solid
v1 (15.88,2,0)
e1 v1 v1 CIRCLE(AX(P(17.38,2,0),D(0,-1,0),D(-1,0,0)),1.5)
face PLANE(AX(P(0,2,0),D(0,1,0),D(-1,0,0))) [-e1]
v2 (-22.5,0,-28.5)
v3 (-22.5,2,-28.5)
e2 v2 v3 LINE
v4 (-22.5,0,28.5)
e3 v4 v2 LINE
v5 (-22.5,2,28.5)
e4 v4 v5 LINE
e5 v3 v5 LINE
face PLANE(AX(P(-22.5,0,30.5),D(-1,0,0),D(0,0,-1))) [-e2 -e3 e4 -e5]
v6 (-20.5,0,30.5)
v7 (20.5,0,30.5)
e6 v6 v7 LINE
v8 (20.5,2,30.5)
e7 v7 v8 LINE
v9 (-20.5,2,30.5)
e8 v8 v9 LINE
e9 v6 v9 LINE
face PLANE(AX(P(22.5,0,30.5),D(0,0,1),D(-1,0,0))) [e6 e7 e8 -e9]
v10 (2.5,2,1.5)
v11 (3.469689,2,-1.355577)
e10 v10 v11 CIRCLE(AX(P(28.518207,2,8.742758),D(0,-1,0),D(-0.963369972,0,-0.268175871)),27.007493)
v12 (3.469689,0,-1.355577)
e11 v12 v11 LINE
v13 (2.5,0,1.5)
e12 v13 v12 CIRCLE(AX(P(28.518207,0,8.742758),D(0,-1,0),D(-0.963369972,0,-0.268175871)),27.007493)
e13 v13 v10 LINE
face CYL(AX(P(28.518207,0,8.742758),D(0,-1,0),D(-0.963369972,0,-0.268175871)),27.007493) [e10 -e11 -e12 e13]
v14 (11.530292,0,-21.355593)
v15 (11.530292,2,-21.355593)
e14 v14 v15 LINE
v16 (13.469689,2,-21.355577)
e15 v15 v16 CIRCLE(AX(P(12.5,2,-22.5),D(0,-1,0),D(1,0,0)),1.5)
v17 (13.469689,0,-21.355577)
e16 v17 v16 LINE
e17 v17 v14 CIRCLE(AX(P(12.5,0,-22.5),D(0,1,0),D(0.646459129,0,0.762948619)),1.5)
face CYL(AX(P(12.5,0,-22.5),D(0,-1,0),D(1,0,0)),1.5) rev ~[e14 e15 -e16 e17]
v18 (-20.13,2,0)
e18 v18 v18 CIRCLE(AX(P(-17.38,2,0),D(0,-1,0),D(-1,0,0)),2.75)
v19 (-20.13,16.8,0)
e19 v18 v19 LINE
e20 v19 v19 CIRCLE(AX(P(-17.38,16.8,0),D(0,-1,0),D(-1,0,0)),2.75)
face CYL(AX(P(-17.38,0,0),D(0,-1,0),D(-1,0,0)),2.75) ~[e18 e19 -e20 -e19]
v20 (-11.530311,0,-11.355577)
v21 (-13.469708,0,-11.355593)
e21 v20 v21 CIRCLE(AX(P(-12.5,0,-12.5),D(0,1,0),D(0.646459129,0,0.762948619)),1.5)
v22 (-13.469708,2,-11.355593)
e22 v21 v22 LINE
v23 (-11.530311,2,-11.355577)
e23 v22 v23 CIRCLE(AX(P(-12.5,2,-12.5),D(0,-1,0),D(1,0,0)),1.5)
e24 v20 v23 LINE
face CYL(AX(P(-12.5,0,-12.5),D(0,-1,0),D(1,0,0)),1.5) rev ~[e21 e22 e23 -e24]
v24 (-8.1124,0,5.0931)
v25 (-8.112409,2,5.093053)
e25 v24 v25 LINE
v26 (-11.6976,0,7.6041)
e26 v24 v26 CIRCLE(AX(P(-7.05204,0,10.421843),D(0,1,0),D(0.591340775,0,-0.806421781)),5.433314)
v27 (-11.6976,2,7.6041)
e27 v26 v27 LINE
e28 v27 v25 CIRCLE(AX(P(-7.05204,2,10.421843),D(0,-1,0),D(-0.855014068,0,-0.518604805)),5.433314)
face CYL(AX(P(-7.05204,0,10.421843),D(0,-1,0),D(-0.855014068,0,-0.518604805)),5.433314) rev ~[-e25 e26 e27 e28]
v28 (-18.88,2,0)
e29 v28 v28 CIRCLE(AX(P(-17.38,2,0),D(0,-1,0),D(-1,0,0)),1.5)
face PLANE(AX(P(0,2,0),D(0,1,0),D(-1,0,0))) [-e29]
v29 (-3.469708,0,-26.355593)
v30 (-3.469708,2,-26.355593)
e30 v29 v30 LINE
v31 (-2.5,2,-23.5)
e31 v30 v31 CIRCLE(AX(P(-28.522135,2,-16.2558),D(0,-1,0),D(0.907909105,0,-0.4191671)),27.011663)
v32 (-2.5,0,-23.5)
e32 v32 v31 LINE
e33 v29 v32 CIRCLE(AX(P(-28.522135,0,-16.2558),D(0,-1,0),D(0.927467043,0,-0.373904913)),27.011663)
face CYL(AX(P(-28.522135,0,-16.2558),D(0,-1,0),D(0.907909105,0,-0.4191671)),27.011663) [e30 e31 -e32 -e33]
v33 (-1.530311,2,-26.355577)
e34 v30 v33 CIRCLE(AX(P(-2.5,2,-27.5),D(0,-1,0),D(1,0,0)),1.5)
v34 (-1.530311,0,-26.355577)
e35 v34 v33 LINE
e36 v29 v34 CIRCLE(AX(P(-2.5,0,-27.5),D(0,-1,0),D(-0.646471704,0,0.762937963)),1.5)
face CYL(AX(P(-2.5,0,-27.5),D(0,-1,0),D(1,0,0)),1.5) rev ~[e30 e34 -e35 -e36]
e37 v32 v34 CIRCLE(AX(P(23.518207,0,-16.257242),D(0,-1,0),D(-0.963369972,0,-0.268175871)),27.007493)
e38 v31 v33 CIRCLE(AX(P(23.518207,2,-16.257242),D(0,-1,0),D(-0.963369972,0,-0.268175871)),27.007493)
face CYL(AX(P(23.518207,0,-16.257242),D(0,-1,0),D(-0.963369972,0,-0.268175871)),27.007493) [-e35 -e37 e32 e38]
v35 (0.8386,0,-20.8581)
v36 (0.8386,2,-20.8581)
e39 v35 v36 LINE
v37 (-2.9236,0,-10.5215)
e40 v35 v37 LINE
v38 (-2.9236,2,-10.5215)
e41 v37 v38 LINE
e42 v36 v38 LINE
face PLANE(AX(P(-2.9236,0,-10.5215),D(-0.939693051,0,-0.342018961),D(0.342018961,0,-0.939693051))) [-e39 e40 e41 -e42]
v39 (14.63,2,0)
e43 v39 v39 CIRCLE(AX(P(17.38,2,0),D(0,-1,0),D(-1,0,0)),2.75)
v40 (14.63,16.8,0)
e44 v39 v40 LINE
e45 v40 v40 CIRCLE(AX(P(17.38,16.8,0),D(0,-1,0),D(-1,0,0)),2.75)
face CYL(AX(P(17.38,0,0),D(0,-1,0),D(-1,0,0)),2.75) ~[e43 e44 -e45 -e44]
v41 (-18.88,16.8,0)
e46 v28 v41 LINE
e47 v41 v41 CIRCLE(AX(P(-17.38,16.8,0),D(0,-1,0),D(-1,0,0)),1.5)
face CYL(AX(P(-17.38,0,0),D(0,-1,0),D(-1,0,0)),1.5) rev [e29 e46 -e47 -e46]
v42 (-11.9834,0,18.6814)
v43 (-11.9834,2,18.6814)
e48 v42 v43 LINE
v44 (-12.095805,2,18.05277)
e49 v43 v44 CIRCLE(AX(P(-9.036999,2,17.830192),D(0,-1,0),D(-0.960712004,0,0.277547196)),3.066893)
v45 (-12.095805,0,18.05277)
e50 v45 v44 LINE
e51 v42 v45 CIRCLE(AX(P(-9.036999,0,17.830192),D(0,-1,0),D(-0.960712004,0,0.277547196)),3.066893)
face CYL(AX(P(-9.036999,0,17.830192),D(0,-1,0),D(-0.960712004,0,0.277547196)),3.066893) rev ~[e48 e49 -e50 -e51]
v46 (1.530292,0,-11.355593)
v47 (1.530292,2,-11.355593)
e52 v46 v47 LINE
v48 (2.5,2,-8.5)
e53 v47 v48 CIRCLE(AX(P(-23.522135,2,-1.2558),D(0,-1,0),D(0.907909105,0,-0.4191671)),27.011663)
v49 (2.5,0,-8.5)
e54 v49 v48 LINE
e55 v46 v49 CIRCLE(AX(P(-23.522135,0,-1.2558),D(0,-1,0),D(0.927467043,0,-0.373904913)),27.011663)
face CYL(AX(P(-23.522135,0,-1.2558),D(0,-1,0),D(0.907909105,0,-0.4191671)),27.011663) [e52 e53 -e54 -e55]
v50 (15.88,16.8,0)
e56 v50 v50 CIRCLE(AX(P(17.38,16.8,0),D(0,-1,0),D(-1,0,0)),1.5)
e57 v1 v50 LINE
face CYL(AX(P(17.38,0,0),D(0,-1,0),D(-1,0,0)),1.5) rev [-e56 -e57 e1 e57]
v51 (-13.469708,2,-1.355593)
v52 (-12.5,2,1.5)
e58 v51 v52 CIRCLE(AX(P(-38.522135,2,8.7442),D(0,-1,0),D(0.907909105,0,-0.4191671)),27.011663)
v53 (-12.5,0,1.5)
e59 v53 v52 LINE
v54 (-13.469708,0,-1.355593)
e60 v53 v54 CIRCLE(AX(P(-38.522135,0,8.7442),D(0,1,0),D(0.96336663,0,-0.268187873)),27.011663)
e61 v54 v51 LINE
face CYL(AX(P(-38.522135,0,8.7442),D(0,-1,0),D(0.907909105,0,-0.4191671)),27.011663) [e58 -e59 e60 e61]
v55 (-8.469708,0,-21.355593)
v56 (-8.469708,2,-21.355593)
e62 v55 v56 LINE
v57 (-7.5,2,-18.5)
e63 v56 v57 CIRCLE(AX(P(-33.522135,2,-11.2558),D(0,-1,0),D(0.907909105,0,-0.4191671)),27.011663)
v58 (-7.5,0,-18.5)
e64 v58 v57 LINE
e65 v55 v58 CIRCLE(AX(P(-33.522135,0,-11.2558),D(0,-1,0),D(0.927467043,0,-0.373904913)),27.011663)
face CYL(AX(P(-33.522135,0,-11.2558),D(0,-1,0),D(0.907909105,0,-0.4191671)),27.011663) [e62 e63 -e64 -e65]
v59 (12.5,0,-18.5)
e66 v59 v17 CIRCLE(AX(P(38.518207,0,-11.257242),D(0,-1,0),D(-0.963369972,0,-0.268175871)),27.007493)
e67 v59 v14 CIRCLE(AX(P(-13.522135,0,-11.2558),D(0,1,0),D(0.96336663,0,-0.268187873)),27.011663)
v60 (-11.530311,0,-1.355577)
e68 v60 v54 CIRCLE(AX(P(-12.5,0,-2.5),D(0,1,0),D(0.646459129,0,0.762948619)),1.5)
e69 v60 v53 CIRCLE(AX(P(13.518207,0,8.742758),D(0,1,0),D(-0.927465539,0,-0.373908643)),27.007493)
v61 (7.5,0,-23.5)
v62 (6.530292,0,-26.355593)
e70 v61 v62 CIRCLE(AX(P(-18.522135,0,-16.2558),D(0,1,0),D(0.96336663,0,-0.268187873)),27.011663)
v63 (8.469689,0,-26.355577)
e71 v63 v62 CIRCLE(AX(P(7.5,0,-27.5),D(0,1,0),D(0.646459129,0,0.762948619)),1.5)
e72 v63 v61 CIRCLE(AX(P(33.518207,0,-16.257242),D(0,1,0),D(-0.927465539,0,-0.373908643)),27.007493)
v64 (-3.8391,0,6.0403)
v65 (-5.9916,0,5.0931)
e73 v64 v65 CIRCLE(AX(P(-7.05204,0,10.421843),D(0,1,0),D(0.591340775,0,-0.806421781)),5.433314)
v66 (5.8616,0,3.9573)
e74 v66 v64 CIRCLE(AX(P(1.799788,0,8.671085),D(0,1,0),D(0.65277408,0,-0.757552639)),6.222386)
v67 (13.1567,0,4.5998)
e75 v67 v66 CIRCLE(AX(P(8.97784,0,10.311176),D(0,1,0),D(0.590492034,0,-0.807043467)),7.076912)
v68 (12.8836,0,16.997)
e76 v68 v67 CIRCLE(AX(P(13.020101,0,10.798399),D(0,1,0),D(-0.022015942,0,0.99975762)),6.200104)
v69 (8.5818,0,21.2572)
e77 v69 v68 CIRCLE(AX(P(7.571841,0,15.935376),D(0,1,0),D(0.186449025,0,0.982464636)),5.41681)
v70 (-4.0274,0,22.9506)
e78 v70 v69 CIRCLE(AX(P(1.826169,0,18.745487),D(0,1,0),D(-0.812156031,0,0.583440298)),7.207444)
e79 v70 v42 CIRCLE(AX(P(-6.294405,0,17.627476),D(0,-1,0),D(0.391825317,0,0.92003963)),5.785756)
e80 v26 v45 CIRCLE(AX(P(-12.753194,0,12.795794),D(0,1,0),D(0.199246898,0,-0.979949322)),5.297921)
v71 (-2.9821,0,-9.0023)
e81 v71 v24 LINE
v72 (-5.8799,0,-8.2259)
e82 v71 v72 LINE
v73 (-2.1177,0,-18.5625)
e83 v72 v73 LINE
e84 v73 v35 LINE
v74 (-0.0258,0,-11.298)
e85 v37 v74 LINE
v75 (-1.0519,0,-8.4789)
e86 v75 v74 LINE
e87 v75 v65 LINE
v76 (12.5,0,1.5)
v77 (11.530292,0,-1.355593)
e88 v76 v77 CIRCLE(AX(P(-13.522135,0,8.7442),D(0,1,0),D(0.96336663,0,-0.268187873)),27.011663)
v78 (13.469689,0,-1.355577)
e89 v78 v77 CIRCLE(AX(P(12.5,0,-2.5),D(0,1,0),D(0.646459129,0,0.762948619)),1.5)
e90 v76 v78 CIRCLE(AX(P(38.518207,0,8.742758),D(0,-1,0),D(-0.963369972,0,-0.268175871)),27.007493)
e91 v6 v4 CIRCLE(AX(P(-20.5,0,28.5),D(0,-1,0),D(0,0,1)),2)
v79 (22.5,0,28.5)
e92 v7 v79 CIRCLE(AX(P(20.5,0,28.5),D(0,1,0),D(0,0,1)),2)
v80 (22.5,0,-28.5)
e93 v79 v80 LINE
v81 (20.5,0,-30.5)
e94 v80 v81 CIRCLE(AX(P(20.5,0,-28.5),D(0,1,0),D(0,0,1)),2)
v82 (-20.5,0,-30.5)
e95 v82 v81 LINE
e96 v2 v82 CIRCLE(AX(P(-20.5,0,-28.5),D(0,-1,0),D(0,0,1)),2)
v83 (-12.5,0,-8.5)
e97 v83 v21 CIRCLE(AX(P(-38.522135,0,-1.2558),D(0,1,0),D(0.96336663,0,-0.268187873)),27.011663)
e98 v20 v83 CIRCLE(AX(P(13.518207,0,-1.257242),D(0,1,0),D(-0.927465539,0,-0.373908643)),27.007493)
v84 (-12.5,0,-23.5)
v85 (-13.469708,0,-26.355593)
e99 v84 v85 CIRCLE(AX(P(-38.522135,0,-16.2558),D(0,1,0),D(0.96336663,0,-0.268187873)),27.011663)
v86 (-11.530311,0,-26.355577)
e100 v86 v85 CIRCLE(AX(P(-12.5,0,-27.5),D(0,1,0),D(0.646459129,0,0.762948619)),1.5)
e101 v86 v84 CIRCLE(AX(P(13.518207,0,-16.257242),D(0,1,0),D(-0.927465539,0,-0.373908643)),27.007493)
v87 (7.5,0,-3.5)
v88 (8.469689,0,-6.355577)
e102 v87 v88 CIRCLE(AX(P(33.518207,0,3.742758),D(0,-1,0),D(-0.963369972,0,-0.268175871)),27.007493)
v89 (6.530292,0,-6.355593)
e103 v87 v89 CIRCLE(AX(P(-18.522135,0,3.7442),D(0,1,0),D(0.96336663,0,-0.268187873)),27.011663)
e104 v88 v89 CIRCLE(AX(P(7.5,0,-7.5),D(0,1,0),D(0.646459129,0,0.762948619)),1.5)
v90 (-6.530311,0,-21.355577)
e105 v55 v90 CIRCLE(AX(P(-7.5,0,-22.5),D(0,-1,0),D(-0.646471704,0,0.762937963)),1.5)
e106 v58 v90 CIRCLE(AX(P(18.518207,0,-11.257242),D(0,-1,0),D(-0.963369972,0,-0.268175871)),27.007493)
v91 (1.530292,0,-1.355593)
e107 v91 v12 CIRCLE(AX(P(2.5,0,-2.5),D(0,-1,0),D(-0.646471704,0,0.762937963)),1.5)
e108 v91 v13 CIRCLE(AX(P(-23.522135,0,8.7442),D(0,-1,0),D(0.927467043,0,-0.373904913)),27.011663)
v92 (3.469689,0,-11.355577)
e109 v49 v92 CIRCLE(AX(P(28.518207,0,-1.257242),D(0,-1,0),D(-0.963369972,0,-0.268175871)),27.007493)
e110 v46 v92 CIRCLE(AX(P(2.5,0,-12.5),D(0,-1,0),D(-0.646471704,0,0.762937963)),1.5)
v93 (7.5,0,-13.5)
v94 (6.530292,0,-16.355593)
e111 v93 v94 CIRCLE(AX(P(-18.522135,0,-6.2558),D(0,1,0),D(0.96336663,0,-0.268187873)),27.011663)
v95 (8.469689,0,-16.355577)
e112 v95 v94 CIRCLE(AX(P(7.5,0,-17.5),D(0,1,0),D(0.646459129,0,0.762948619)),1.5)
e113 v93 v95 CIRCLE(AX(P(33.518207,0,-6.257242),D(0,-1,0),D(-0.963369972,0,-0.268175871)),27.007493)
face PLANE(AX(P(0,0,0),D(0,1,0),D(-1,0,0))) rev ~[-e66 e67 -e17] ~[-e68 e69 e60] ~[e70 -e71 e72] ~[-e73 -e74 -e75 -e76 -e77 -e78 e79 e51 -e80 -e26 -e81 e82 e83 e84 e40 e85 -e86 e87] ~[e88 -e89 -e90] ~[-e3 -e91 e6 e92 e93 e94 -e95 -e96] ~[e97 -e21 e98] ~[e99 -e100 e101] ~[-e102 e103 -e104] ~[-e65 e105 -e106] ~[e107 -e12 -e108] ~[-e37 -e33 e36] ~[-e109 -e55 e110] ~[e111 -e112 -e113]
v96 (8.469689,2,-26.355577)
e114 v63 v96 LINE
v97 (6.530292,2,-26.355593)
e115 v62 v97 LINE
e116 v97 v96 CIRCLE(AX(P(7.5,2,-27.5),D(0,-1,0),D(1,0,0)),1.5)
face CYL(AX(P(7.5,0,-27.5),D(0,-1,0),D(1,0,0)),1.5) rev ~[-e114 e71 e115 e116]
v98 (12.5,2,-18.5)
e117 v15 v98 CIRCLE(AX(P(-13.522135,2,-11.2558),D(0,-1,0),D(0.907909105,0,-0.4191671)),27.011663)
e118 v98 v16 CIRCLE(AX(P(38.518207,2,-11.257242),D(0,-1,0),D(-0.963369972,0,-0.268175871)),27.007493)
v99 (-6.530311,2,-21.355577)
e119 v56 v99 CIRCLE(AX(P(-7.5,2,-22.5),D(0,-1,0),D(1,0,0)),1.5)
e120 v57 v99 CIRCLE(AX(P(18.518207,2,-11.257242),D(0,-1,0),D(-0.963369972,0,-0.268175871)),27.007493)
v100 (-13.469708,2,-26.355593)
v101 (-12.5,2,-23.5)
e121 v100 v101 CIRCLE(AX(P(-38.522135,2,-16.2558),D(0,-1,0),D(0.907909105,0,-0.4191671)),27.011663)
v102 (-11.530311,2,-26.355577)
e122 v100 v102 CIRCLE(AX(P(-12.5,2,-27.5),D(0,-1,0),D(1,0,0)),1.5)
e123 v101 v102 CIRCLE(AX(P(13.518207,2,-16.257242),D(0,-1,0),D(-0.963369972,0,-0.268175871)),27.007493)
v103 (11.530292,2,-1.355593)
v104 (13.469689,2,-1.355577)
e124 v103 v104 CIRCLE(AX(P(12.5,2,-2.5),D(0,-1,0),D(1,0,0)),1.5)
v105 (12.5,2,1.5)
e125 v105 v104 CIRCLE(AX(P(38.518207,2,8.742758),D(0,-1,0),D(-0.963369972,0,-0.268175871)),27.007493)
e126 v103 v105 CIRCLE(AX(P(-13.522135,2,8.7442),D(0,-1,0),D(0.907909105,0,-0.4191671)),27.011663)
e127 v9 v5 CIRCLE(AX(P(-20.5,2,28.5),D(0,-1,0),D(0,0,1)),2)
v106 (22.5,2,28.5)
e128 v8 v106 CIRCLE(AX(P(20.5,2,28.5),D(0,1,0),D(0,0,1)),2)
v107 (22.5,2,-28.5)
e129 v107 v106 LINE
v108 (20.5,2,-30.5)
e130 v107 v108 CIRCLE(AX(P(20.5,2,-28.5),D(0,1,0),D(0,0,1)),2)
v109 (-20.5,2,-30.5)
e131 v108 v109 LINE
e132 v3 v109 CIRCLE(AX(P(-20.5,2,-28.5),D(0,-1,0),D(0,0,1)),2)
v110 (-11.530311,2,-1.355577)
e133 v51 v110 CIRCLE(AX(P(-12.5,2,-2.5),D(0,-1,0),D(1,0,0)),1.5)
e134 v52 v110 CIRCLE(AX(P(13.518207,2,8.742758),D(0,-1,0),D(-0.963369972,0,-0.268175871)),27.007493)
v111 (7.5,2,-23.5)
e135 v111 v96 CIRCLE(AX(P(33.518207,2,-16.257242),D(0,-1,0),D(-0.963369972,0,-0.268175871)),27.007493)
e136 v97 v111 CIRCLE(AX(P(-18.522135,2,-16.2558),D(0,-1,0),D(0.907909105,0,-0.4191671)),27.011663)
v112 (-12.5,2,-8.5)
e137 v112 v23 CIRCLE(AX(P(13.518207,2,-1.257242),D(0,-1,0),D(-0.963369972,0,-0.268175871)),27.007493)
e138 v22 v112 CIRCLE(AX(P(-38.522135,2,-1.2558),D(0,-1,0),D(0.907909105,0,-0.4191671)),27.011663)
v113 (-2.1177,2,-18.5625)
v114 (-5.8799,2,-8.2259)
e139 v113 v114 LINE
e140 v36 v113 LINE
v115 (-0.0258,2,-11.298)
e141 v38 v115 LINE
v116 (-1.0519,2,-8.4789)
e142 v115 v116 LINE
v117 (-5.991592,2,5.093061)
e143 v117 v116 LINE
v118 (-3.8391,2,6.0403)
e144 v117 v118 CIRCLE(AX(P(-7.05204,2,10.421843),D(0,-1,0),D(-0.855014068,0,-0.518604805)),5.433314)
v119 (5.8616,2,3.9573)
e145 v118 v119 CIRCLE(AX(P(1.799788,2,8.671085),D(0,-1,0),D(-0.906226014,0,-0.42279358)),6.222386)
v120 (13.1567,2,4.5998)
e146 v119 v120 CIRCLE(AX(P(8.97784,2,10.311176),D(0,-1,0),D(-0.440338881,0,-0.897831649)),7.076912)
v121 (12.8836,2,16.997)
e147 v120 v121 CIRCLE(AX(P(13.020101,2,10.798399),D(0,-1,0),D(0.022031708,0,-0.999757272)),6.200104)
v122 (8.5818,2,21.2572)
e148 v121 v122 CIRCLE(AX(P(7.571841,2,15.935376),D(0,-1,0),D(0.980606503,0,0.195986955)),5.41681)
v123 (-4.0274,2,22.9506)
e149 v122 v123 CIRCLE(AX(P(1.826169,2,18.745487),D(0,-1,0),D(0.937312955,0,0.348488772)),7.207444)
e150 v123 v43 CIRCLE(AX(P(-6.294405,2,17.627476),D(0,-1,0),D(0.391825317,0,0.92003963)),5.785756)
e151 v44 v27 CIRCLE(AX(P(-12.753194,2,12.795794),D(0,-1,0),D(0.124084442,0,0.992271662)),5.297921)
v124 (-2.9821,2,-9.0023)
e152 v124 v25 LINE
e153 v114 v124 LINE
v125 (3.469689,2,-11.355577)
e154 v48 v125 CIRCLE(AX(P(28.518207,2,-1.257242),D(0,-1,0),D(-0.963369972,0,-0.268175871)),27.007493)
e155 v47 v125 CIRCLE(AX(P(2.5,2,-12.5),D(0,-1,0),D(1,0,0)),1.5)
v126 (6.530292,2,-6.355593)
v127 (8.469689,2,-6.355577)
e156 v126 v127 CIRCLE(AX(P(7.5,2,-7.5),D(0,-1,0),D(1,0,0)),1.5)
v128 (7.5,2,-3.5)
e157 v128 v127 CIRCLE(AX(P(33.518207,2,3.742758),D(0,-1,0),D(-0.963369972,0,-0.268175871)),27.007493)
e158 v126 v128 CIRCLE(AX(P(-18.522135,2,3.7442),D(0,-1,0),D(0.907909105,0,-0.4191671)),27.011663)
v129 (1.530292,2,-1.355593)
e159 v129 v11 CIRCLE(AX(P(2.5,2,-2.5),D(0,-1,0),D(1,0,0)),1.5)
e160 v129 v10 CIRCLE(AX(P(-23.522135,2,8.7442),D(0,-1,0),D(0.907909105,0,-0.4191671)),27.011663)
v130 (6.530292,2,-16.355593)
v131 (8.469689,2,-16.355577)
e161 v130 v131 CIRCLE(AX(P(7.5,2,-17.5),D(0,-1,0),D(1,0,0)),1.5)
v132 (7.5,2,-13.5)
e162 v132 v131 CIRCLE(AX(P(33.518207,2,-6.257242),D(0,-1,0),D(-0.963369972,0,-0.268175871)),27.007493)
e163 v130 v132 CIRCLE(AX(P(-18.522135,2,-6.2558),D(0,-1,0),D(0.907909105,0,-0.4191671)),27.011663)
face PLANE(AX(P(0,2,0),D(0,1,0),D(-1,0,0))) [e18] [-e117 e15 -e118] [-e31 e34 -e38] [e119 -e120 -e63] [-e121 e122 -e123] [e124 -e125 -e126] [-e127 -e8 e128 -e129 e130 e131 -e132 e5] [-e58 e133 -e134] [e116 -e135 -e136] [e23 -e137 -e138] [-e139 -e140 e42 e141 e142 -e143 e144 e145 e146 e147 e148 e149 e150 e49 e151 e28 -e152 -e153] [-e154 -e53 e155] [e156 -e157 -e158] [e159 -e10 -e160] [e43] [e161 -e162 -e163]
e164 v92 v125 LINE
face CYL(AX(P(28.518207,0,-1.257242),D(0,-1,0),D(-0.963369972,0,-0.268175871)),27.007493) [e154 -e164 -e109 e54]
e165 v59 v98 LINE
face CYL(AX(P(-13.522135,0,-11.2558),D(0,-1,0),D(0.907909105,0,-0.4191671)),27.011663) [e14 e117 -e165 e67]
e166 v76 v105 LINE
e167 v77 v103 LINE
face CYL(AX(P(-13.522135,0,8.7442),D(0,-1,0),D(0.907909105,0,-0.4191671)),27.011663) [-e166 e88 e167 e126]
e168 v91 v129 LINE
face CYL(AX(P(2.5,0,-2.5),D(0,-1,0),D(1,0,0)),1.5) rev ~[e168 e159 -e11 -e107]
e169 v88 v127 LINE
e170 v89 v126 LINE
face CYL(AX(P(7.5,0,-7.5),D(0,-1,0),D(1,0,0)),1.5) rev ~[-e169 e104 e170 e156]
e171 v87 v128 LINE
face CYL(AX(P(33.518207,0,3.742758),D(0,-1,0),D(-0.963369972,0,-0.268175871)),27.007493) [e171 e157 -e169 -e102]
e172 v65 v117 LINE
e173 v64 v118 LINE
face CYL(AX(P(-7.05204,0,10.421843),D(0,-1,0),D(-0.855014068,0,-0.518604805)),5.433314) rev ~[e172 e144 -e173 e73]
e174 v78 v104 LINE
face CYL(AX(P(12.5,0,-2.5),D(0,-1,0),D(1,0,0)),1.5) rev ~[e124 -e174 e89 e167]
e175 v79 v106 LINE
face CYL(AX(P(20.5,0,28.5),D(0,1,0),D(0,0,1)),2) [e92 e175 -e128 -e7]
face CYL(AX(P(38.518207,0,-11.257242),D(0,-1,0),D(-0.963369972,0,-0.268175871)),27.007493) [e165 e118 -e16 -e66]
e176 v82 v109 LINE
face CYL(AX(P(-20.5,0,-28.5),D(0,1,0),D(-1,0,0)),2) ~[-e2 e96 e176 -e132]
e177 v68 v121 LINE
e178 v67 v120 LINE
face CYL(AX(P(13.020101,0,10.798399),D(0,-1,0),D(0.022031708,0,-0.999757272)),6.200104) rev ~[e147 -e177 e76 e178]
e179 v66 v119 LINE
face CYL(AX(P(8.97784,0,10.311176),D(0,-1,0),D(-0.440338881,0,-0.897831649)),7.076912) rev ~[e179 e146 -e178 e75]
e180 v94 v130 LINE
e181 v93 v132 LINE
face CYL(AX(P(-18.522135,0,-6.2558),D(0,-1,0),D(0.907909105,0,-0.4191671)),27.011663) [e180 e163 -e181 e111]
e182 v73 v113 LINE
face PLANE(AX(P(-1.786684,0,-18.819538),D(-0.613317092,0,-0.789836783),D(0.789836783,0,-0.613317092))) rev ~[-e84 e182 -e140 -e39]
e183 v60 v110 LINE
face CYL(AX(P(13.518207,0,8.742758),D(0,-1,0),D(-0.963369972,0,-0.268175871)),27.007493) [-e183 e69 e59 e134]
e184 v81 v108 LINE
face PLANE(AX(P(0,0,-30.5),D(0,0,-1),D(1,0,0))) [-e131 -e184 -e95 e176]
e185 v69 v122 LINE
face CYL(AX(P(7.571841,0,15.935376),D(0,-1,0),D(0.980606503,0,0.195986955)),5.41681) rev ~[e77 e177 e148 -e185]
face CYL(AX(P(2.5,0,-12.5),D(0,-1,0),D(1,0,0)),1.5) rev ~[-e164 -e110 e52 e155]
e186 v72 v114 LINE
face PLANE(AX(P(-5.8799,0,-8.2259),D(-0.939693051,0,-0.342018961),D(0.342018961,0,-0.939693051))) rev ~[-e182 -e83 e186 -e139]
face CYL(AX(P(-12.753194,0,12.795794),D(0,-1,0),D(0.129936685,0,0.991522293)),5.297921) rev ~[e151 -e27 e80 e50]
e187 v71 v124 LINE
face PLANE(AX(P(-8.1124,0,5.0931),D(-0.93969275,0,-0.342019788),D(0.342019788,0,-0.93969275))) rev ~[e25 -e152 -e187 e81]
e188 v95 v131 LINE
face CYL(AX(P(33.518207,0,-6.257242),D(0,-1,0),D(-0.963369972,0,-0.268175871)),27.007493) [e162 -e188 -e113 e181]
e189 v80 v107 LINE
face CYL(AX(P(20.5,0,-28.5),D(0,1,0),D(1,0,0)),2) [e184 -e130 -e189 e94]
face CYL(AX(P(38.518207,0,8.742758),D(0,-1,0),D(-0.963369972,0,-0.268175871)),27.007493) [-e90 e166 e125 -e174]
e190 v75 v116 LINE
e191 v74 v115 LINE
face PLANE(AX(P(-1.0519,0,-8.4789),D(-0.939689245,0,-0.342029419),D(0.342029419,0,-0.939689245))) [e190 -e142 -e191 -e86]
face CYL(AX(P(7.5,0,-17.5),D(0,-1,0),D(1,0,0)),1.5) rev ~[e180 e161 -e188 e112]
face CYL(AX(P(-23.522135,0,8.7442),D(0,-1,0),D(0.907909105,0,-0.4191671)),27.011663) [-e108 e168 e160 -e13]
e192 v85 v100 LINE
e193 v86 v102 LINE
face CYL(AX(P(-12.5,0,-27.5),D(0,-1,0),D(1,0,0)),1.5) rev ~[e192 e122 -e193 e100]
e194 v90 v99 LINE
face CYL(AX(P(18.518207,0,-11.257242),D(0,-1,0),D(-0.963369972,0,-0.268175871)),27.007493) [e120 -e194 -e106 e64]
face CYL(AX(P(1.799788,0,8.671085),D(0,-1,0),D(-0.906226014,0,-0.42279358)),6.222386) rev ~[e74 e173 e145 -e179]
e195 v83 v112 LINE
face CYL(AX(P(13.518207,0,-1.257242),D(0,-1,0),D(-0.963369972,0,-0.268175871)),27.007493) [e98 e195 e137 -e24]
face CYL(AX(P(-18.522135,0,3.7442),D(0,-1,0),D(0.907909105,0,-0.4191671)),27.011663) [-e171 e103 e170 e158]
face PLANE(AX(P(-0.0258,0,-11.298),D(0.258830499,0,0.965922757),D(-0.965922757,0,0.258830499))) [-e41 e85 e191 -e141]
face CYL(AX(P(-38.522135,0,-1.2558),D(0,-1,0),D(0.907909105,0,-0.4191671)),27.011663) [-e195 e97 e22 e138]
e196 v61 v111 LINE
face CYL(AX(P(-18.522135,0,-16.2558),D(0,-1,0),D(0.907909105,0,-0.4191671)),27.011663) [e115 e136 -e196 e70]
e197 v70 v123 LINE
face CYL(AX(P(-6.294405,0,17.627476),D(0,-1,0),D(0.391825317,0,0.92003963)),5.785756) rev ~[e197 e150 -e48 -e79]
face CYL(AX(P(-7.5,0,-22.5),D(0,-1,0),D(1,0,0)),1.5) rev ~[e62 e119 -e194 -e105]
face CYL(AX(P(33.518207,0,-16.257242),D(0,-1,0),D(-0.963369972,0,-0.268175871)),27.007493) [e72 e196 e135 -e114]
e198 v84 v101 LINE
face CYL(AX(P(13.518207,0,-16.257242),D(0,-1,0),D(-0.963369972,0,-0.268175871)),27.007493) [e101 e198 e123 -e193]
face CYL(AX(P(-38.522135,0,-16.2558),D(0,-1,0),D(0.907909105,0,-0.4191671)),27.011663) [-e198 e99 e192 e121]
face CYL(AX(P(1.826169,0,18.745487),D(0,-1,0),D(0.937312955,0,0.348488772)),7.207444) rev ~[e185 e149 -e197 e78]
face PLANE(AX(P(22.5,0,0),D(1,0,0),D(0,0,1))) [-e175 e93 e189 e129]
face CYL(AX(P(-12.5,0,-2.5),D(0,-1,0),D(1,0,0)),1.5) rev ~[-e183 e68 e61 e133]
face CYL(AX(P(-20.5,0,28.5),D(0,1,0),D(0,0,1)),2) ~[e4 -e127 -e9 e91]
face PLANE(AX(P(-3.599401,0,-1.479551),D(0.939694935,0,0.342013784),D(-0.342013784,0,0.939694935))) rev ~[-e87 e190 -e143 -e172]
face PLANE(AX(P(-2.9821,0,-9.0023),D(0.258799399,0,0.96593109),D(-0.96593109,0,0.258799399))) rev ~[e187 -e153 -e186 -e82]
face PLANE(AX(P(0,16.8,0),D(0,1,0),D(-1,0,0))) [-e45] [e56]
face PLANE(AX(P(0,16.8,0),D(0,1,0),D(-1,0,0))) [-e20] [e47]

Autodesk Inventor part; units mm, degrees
ref_plane "YZ Plane" through (0, 0, 0) normal (1, 0, 0) x (0, 1, 0)
ref_plane "XZ Plane" through (0, 0, 0) normal (0, 1, 0) x (-1, 0, 0)
ref_plane "XY Plane" through (0, 0, 0) normal (0, 0, 1) x (1, 0, 0)
sketch "Szkic1" plane through (0, 0, 0) normal (0, 1, 0) x (-1, 0, 0)
  line L0 (-22.5, 30.5) -> (22.5, 30.5)
  line L1 (22.5, 30.5) -> (22.5, -30.5)
  line L2 (22.5, -30.5) -> (-22.5, -30.5)
  line L3 (-22.5, -30.5) -> (-22.5, 30.5)
  line L4 (-22.5, 30.5) -> (22.5, -30.5) construction
  line L5 (22.5, 30.5) -> (16.6, 30.5)
  line L6 (0, -30.5) -> (0, 30.5)
  line L7 (22.5, 0) -> (-22.5, 0)
  line L8 (0, 0) -> (22.5, 0)
  line L9 (22.5, 0) -> (17.38, 0)
  circle A0 centre (17.38, 0) radius 1.5
  circle A1 centre (-17.38, 0) radius 1.5
  circle A2 centre (17.38, 0) radius 2.75
  circle A3 centre (-17.38, 0) radius 2.75
  dimension "d0" = 45
  dimension "d1" = 61
  dimension "d12" = 5.12
  dimension "d13" = 3
  dimension "d14" = 30.5
  dimension "d16" = 5.5
extrude "Wyciągnięcie proste1" add sketch "Szkic1" along normal blind 2
extrude "Wyciągnięcie proste2" add sketch "Szkic1" along normal blind 16.8 contours A3 L7 A1 | L7 A1 A3 | A2 L7 A0 | L7 A0 A2
fillet "Zaokrąglenie1" radius 2 4 edges at (-22.5, 1, -30.5) (22.5, 1, -30.5) (-22.5, 1, 30.5) (22.5, 1, 30.5)
sketch "Szkic2" plane through (0, 0, 0) normal (0, -1, 0) x (1, 0, 0)
  line L0 (-21.3296, 27.1767) -> (19.4219, 27.1767) construction
  line L1 (19.4219, 27.1767) -> (19.4219, 1.9055) construction
  line L2 (19.4219, 1.9055) -> (-21.3296, 1.9055) construction
  line L3 (-21.3296, 1.9055) -> (-21.3296, 27.1767) construction
  arc A0 (-12.0648, 18.0488) -> (-11.6976, 7.6041) centre (-12.7532, 12.7958) ccw
  arc A1 (-4.0274, 22.9506) -> (-12.0648, 18.0488) centre (-6.2944, 17.6274) ccw
  arc A2 (8.5818, 21.2572) -> (-4.0274, 22.9506) centre (1.8261, 18.7454) ccw
  arc A3 (12.8836, 16.997) -> (8.5818, 21.2572) centre (7.5717, 15.9353) ccw
  arc A4 (13.1567, 4.5998) -> (12.8836, 16.997) centre (13.0201, 10.7984) ccw
  arc A5 (5.8616, 3.9573) -> (13.1567, 4.5998) centre (8.9779, 10.3115) ccw
  arc A6 (-3.8391, 6.0403) -> (5.8616, 3.9573) centre (1.7998, 8.6711) ccw
  arc A7 (-11.6976, 7.6041) -> (-3.8391, 6.0403) centre (-7.052, 10.4219) ccw
  arc A8 (-4.2074, 7.6238) -> (1.2341, 16.8874) centre (-1.0275, 11.9859) ccw
  arc A9 (-11.7503, 10.9688) -> (-4.2074, 7.6238) centre (-7.2953, 10.8377) ccw
  arc A10 (-17.5377, 13.4696) -> (-11.6516, 9.8959) centre (-12.6699, 14.853) ccw
  arc A11 (3.697, 14.5972) -> (8.6049, 17.9558) centre (3.8701, 19.6096) ccw
  arc A12 (8.6049, 17.9558) -> (11.4505, 18.7493) centre (9.522, 20.1659) ccw
  arc A13 (4.0342, 10.11) -> (9.8976, 11.5253) centre (5.9899, 14.8611) ccw
  arc A14 (9.8976, 11.5253) -> (15.929, 15.2269) centre (12.4747, 14.0908) ccw
  arc A15 (2.5761, 7.9667) -> (9.7755, 8.6284) centre (5.7685, 12.7291) ccw
  arc A16 (9.7755, 8.6284) -> (16.9382, 14.9131) centre (13.3568, 11.7708) ccw
  arc A17 (6.5881, 21.4672) -> (5.2016, 25.1136) centre (2.4919, 21.9965) ccw
  arc A18 (8.5818, 21.2572) -> (6.5881, 21.4672) centre (7.4205, 19.8009) ccw
  arc A19 (10.5725, 13.6586) -> (9.9908, 20.782) centre (6.7774, 16.9342) ccw
  arc A20 (10.5725, 13.6586) -> (12.8792, 16.8923) centre (9.671, 16.7412) ccw
  arc A21 (15.929, 15.2269) -> (15.0518, 16.6562) centre (12.4747, 14.0908) ccw
  arc A22 (16.9382, 14.9131) -> (16.3778, 16.0107) centre (0.1209, 7.0188) ccw
  arc A23 (-11.7503, 10.9688) -> (-5.6989, 9.2808) centre (-8.2416, 11.8564) ccw
  arc A24 (-5.6989, 9.2808) -> (1.2341, 16.8874) centre (-3.3438, 14.0971) ccw
  arc A25 (-11.9834, 18.6814) -> (-11.3996, 15.8747) centre (-9.0372, 17.8302) ccw
  line L4 (-17.5377, 13.4696) -> (-17.7253, 14.625)
  circle A26 centre (12.5, 2.5) radius 1.5
  line L5 (12.5, 2.5) -> (12.5, 6.5)
  arc A27 (12.5, 6.5) -> (13.998, 2.4218) centre (38.5202, 13.7434) ccw
  arc A28 (11.002, 2.4218) -> (12.5, 6.5) centre (-13.5202, 13.7434) ccw
  line L6 (19.4219, 1.9055) -> (19.4219, -1.6866) construction
  line L7 (7.5, 2.5) -> (7.5, 6.5)
  arc A29 (7.5, 6.5) -> (8.998, 2.4218) centre (33.5202, 13.7434) ccw
  circle A30 centre (7.5, 2.5) radius 1.5
  arc A31 (6.002, 2.4218) -> (7.5, 6.5) centre (-18.5202, 13.7434) ccw
  line L8 (2.5, 2.5) -> (2.5, 6.5)
  arc A32 (2.5, 6.5) -> (3.998, 2.4218) centre (28.5202, 13.7434) ccw
  circle A33 centre (2.5, 2.5) radius 1.5
  arc A34 (1.002, 2.4218) -> (2.5, 6.5) centre (-23.5202, 13.7434) ccw
  line L9 (-2.5, 2.5) -> (-2.5, 6.5)
  arc A35 (-2.5, 6.5) -> (-1.002, 2.4218) centre (23.5202, 13.7434) ccw
  circle A36 centre (-2.5, 2.5) radius 1.5
  arc A37 (-3.998, 2.4218) -> (-2.5, 6.5) centre (-28.5202, 13.7434) ccw
  line L10 (-7.5, 2.5) -> (-7.5, 6.5)
  arc A38 (-7.5, 6.5) -> (-6.002, 2.4218) centre (18.5202, 13.7434) ccw
  circle A39 centre (-7.5, 2.5) radius 1.5
  arc A40 (-8.998, 2.4218) -> (-7.5, 6.5) centre (-33.5202, 13.7434) ccw
  line L11 (-12.5, 2.5) -> (-12.5, 6.5)
  arc A41 (-12.5, 6.5) -> (-11.002, 2.4218) centre (13.5202, 13.7434) ccw
  circle A42 centre (-12.5, 2.5) radius 1.5
  arc A43 (-13.998, 2.4218) -> (-12.5, 6.5) centre (-38.5202, 13.7434) ccw
  line L12 (12.5, -2.5) -> (12.5, 1.5)
  arc A44 (12.5, 1.5) -> (13.998, -2.5782) centre (38.5202, 8.7434) ccw
  circle A45 centre (12.5, -2.5) radius 1.5
  arc A46 (11.002, -2.5782) -> (12.5, 1.5) centre (-13.5202, 8.7434) ccw
  line L13 (7.5, -2.5) -> (7.5, 1.5)
  arc A47 (7.5, 1.5) -> (8.998, -2.5782) centre (33.5202, 8.7434) ccw
  circle A48 centre (7.5, -2.5) radius 1.5
  arc A49 (6.002, -2.5782) -> (7.5, 1.5) centre (-18.5202, 8.7434) ccw
  line L14 (2.5, -2.5) -> (2.5, 1.5)
  arc A50 (2.5, 1.5) -> (3.998, -2.5782) centre (28.5202, 8.7434) ccw
  circle A51 centre (2.5, -2.5) radius 1.5
  arc A52 (1.002, -2.5782) -> (2.5, 1.5) centre (-23.5202, 8.7434) ccw
  line L15 (-2.5, -2.5) -> (-2.5, 1.5)
  arc A53 (-2.5, 1.5) -> (-1.002, -2.5782) centre (23.5202, 8.7434) ccw
  circle A54 centre (-2.5, -2.5) radius 1.5
  arc A55 (-3.998, -2.5782) -> (-2.5, 1.5) centre (-28.5202, 8.7434) ccw
  line L16 (-7.5, -2.5) -> (-7.5, 1.5)
  arc A56 (-7.5, 1.5) -> (-6.002, -2.5782) centre (18.5202, 8.7434) ccw
  circle A57 centre (-7.5, -2.5) radius 1.5
  arc A58 (-8.998, -2.5782) -> (-7.5, 1.5) centre (-33.5202, 8.7434) ccw
  line L17 (-12.5, -2.5) -> (-12.5, 1.5)
  arc A59 (-12.5, 1.5) -> (-11.002, -2.5782) centre (13.5202, 8.7434) ccw
  circle A60 centre (-12.5, -2.5) radius 1.5
  arc A61 (-13.998, -2.5782) -> (-12.5, 1.5) centre (-38.5202, 8.7434) ccw
  line L18 (12.5, -7.5) -> (12.5, -3.5)
  arc A62 (12.5, -3.5) -> (13.998, -7.5782) centre (38.5202, 3.7434) ccw
  circle A63 centre (12.5, -7.5) radius 1.5
  arc A64 (11.002, -7.5782) -> (12.5, -3.5) centre (-13.5202, 3.7434) ccw
  line L19 (7.5, -7.5) -> (7.5, -3.5)
  arc A65 (7.5, -3.5) -> (8.998, -7.5782) centre (33.5202, 3.7434) ccw
  circle A66 centre (7.5, -7.5) radius 1.5
  arc A67 (6.002, -7.5782) -> (7.5, -3.5) centre (-18.5202, 3.7434) ccw
  line L20 (2.5, -7.5) -> (2.5, -3.5)
  arc A68 (2.5, -3.5) -> (3.998, -7.5782) centre (28.5202, 3.7434) ccw
  circle A69 centre (2.5, -7.5) radius 1.5
  arc A70 (1.002, -7.5782) -> (2.5, -3.5) centre (-23.5202, 3.7434) ccw
  line L21 (-2.5, -7.5) -> (-2.5, -3.5)
  arc A71 (-2.5, -3.5) -> (-1.002, -7.5782) centre (23.5202, 3.7434) ccw
  circle A72 centre (-2.5, -7.5) radius 1.5
  arc A73 (-3.998, -7.5782) -> (-2.5, -3.5) centre (-28.5202, 3.7434) ccw
  line L22 (-7.5, -7.5) -> (-7.5, -3.5)
  arc A74 (-7.5, -3.5) -> (-6.002, -7.5782) centre (18.5202, 3.7434) ccw
  circle A75 centre (-7.5, -7.5) radius 1.5
  arc A76 (-8.998, -7.5782) -> (-7.5, -3.5) centre (-33.5202, 3.7434) ccw
  line L23 (-12.5, -7.5) -> (-12.5, -3.5)
  arc A77 (-12.5, -3.5) -> (-11.002, -7.5782) centre (13.5202, 3.7434) ccw
  circle A78 centre (-12.5, -7.5) radius 1.5
  arc A79 (-13.998, -7.5782) -> (-12.5, -3.5) centre (-38.5202, 3.7434) ccw
  line L24 (12.5, -12.5) -> (12.5, -8.5)
  arc A80 (12.5, -8.5) -> (13.998, -12.5782) centre (38.5202, -1.2566) ccw
  circle A81 centre (12.5, -12.5) radius 1.5
  arc A82 (11.002, -12.5782) -> (12.5, -8.5) centre (-13.5202, -1.2566) ccw
  line L25 (7.5, -12.5) -> (7.5, -8.5)
  arc A83 (7.5, -8.5) -> (8.998, -12.5782) centre (33.5202, -1.2566) ccw
  circle A84 centre (7.5, -12.5) radius 1.5
  arc A85 (6.002, -12.5782) -> (7.5, -8.5) centre (-18.5202, -1.2566) ccw
  line L26 (2.5, -12.5) -> (2.5, -8.5)
  arc A86 (2.5, -8.5) -> (3.998, -12.5782) centre (28.5202, -1.2566) ccw
  circle A87 centre (2.5, -12.5) radius 1.5
  arc A88 (1.002, -12.5782) -> (2.5, -8.5) centre (-23.5202, -1.2566) ccw
  line L27 (-2.5, -12.5) -> (-2.5, -8.5)
  arc A89 (-2.5, -8.5) -> (-1.002, -12.5782) centre (23.5202, -1.2566) ccw
  circle A90 centre (-2.5, -12.5) radius 1.5
  arc A91 (-3.998, -12.5782) -> (-2.5, -8.5) centre (-28.5202, -1.2566) ccw
  line L28 (-7.5, -12.5) -> (-7.5, -8.5)
  arc A92 (-7.5, -8.5) -> (-6.002, -12.5782) centre (18.5202, -1.2566) ccw
  circle A93 centre (-7.5, -12.5) radius 1.5
  arc A94 (-8.998, -12.5782) -> (-7.5, -8.5) centre (-33.5202, -1.2566) ccw
  line L29 (-12.5, -12.5) -> (-12.5, -8.5)
  arc A95 (-12.5, -8.5) -> (-11.002, -12.5782) centre (13.5202, -1.2566) ccw
  circle A96 centre (-12.5, -12.5) radius 1.5
  arc A97 (-13.998, -12.5782) -> (-12.5, -8.5) centre (-38.5202, -1.2566) ccw
  line L30 (12.5, -17.5) -> (12.5, -13.5)
  arc A98 (12.5, -13.5) -> (13.998, -17.5782) centre (38.5202, -6.2566) ccw
  circle A99 centre (12.5, -17.5) radius 1.5
  arc A100 (11.002, -17.5782) -> (12.5, -13.5) centre (-13.5202, -6.2566) ccw
  line L31 (7.5, -17.5) -> (7.5, -13.5)
  arc A101 (7.5, -13.5) -> (8.998, -17.5782) centre (33.5202, -6.2566) ccw
  circle A102 centre (7.5, -17.5) radius 1.5
  arc A103 (6.002, -17.5782) -> (7.5, -13.5) centre (-18.5202, -6.2566) ccw
  line L32 (2.5, -17.5) -> (2.5, -13.5)
  arc A104 (2.5, -13.5) -> (3.998, -17.5782) centre (28.5202, -6.2566) ccw
  circle A105 centre (2.5, -17.5) radius 1.5
  arc A106 (1.002, -17.5782) -> (2.5, -13.5) centre (-23.5202, -6.2566) ccw
  line L33 (-2.5, -17.5) -> (-2.5, -13.5)
  arc A107 (-2.5, -13.5) -> (-1.002, -17.5782) centre (23.5202, -6.2566) ccw
  circle A108 centre (-2.5, -17.5) radius 1.5
  arc A109 (-3.998, -17.5782) -> (-2.5, -13.5) centre (-28.5202, -6.2566) ccw
  line L34 (-7.5, -17.5) -> (-7.5, -13.5)
  arc A110 (-7.5, -13.5) -> (-6.002, -17.5782) centre (18.5202, -6.2566) ccw
  circle A111 centre (-7.5, -17.5) radius 1.5
  arc A112 (-8.998, -17.5782) -> (-7.5, -13.5) centre (-33.5202, -6.2566) ccw
  line L35 (-12.5, -17.5) -> (-12.5, -13.5)
  arc A113 (-12.5, -13.5) -> (-11.002, -17.5782) centre (13.5202, -6.2566) ccw
  circle A114 centre (-12.5, -17.5) radius 1.5
  arc A115 (-13.998, -17.5782) -> (-12.5, -13.5) centre (-38.5202, -6.2566) ccw
  line L36 (12.5, -22.5) -> (12.5, -18.5)
  arc A116 (12.5, -18.5) -> (13.998, -22.5782) centre (38.5202, -11.2566) ccw
  circle A117 centre (12.5, -22.5) radius 1.5
  arc A118 (11.002, -22.5782) -> (12.5, -18.5) centre (-13.5202, -11.2566) ccw
  line L37 (7.5, -22.5) -> (7.5, -18.5)
  arc A119 (7.5, -18.5) -> (8.998, -22.5782) centre (33.5202, -11.2566) ccw
  circle A120 centre (7.5, -22.5) radius 1.5
  arc A121 (6.002, -22.5782) -> (7.5, -18.5) centre (-18.5202, -11.2566) ccw
  line L38 (2.5, -22.5) -> (2.5, -18.5)
  arc A122 (2.5, -18.5) -> (3.998, -22.5782) centre (28.5202, -11.2566) ccw
  circle A123 centre (2.5, -22.5) radius 1.5
  arc A124 (1.002, -22.5782) -> (2.5, -18.5) centre (-23.5202, -11.2566) ccw
  line L39 (-2.5, -22.5) -> (-2.5, -18.5)
  arc A125 (-2.5, -18.5) -> (-1.002, -22.5782) centre (23.5202, -11.2566) ccw
  circle A126 centre (-2.5, -22.5) radius 1.5
  arc A127 (-3.998, -22.5782) -> (-2.5, -18.5) centre (-28.5202, -11.2566) ccw
  line L40 (-7.5, -22.5) -> (-7.5, -18.5)
  arc A128 (-7.5, -18.5) -> (-6.002, -22.5782) centre (18.5202, -11.2566) ccw
  circle A129 centre (-7.5, -22.5) radius 1.5
  arc A130 (-8.998, -22.5782) -> (-7.5, -18.5) centre (-33.5202, -11.2566) ccw
  line L41 (-12.5, -22.5) -> (-12.5, -18.5)
  arc A131 (-12.5, -18.5) -> (-11.002, -22.5782) centre (13.5202, -11.2566) ccw
  circle A132 centre (-12.5, -22.5) radius 1.5
  arc A133 (-13.998, -22.5782) -> (-12.5, -18.5) centre (-38.5202, -11.2566) ccw
  line L42 (22.5, 28.5) -> (22.5, -28.5) projected
  line L43 (-20.5, 30.5) -> (20.5, 30.5) projected
  line L44 (12.5, -27.5) -> (12.5, -23.5)
  arc A134 (12.5, -23.5) -> (13.998, -27.5782) centre (38.5202, -16.2566) ccw
  circle A135 centre (12.5, -27.5) radius 1.5
  arc A136 (11.002, -27.5782) -> (12.5, -23.5) centre (-13.5202, -16.2566) ccw
  line L45 (7.5, -27.5) -> (7.5, -23.5)
  arc A137 (7.5, -23.5) -> (8.998, -27.5782) centre (33.5202, -16.2566) ccw
  circle A138 centre (7.5, -27.5) radius 1.5
  arc A139 (6.002, -27.5782) -> (7.5, -23.5) centre (-18.5202, -16.2566) ccw
  line L46 (2.5, -27.5) -> (2.5, -23.5)
  arc A140 (2.5, -23.5) -> (3.998, -27.5782) centre (28.5202, -16.2566) ccw
  circle A141 centre (2.5, -27.5) radius 1.5
  arc A142 (1.002, -27.5782) -> (2.5, -23.5) centre (-23.5202, -16.2566) ccw
  line L47 (-2.5, -27.5) -> (-2.5, -23.5)
  arc A143 (-2.5, -23.5) -> (-1.002, -27.5782) centre (23.5202, -16.2566) ccw
  circle A144 centre (-2.5, -27.5) radius 1.5
  arc A145 (-3.998, -27.5782) -> (-2.5, -23.5) centre (-28.5202, -16.2566) ccw
  line L48 (-7.5, -27.5) -> (-7.5, -23.5)
  arc A146 (-7.5, -23.5) -> (-6.002, -27.5782) centre (18.5202, -16.2566) ccw
  circle A147 centre (-7.5, -27.5) radius 1.5
  arc A148 (-8.998, -27.5782) -> (-7.5, -23.5) centre (-33.5202, -16.2566) ccw
  line L49 (-12.5, -27.5) -> (-12.5, -23.5)
  arc A149 (-12.5, -23.5) -> (-11.002, -27.5782) centre (13.5202, -16.2566) ccw
  circle A150 centre (-12.5, -27.5) radius 1.5
  arc A151 (-13.998, -27.5782) -> (-12.5, -23.5) centre (-38.5202, -16.2566) ccw
  line L50 (-8.1124, 5.0931) -> (-2.9821, -9.0023)
  line L51 (-8.1124, 5.0931) -> (6.8876, 5.0931) construction
  line L52 (-2.9821, -9.0023) -> (-5.8799, -8.2259)
  line L53 (-5.8799, -8.2259) -> (-2.1177, -18.5625)
  line L54 (-2.9821, -9.0023) -> (-1.0519, -8.4789)
  line L55 (-1.0519, -8.4789) -> (-5.9916, 5.0931)
  line L56 (-1.0519, -8.4789) -> (-0.0258, -11.298)
  line L57 (-0.0258, -11.298) -> (-2.9236, -10.5215)
  line L58 (-2.9236, -10.5215) -> (0.8386, -20.8581)
  line L59 (-2.1177, -18.5625) -> (0.8386, -20.8581)
  line L60 (20.75, -29) -> (-20.75, -29)
  line L61 (-20.75, -29) -> (-20.75, 29)
  line L62 (-20.75, 29) -> (20.75, 29)
  line L63 (20.75, 29) -> (20.75, -29)
  line L64 (20.75, -29) -> (-20.75, 29) construction
  line L65 (-20.75, -29) -> (20.75, 29) construction
  point P0 (0, 0)
  point P1 (-12.0958, 18.0528)
  point P2 (11.002, 2.4218)
  point P3 (13.4697, -21.3556)
  point P4 (11.5303, -21.3556)
  point P5 (-11.5303, -26.3556)
  point P6 (-13.4697, -26.3556)
  point P7 (-1.5303, -26.3556)
  point P8 (-3.4697, -26.3556)
  point P9 (8.4697, -26.3556)
  point P10 (6.5303, -26.3556)
  point P11 (-6.5303, -21.3556)
  point P12 (-8.4697, -21.3556)
  point P13 (-13.4697, -11.3556)
  point P14 (-11.5303, -11.3556)
  point P15 (3.4697, -1.3556)
  point P16 (1.5303, -1.3556)
  point P17 (11.5303, -1.3556)
  point P18 (13.4697, -1.3556)
  point P19 (6.5303, -6.3556)
  point P20 (8.4697, -6.3556)
  point P21 (3.4697, -11.3556)
  point P22 (1.5303, -11.3556)
  point P23 (8.4697, -16.3556)
  point P24 (6.5303, -16.3556)
  point P25 (-2.6863, -3.9884)
  point P26 (-3.5994, -1.4796)
  point P27 (-7.0312, 4.9886)
  point P28 (-6.5303, 3.6444)
  point P29 (-6.7056, 1.2277)
  point P30 (-7.5, 3.4104)
  point P31 (-7.7093, 3.9853)
  point P32 (-7.5, 4)
  point P33 (-13.4697, -1.3556)
  point P34 (-11.5303, -1.3556)
  dimension "d52" = 3
  dimension "d53" = 4
  dimension "d65" = 5
  dimension "d68" = 5
  dimension "d72" = 10
  dimension "d73" = 28
  dimension "d75" = 15
  dimension "d76" = 70
  dimension "d77" = 3
  dimension "d78" = 55
  dimension "d79" = 11
  dimension "d80" = 2
  dimension "d81" = 3
  dimension "d82" = 3
  dimension "d85" = 11
  dimension "d90" = 41.5
  dimension "d91" = 58
extrude "Wyciągnięcie proste9" cut sketch "Szkic2" against normal blind 4.15 contours L4 A10 A9 A40 A7 A0 | A0 A1 A2 A17 A18 A3 A19 A12 A11 A8 A24 A23 A9 A10 L4 | A25 A1 A0 | A9 A23 A24 A8 A38 A40 | A40 A9 L10 A7 | A40 L10 A9 | L10 A9 A38 A7 | A2 A18 A17 | L10 A38 A9 | A38 A9 A8 A15 A16 A22 A4 A5 A27 A28 A30 A29 A31 A6 A33 A32 A34 A36 A35 A37 A7 | A3 A4 A21 A14 A13 A8 A11 A12 A19 | A13 A14 A21 A4 A22 A16 A15 A8 | A37 L9 A6 | L9 A35 A36 A6 | A36 A35 A6 | A36 A6 A35 | A5 L5 A27 | A33 A34 A6 | A5 A26 A28 L5 | A34 A33 A32 A6 | A34 L8 A33 | A5 A26 | A32 A33 A6 | L8 A32 A33 | A5 A29 A30 | A5 L7 A30 A29 | A30 L7 A29 | A5 A30 L7 | L7 A30 A5 A31 picked at (-1.8289, 3.6979) picked at (-1.3724, 3.4401) picked at (1.2391, 3.0886) picked at (3.7517, 3.2083) picked at (8.6294, 3.4279)
extrude "Wyciągnięcie proste10" cut sketch "Szkic2" against normal blind 6.9 contours A150 A151 A149 | A7 A40 L50 | A7 L10 A39 L50 A40 | A7 A38 A39 L10 | A39 L10 L50 | A7 L55 A54 A73 A72 L50 A39 A38 | A39 A38 L50 L10 | A39 A38 | L55 A55 A54 | A72 A73 L50 | A55 L55 A54 | A73 L55 L21 A72 | A72 L55 L54 A89 A91 L50 A73 | L21 L55 A72 | A72 L54 L50 | L54 A91 A72 | A72 A91 A90 A109 L53 L52 L54 | L55 L54 A72 | A91 L54 L27 A72 | A72 L27 L57 L58 A90 A91 | A91 L27 L54 | L54 L56 L57 A89 A72 | A72 A89 L54 | L27 L54 A89 A72 | A72 A89 L57 L27 | A91 A90 | A90 L58 A107 A109 A91 | A89 L54 L27 | A109 A90 L33 A108 L53 | A109 L33 A90 | A108 A107 L59 L53 | A52 L14 A33 | A33 L14 A51 A52 | L33 A107 A90 | A90 A107 A108 L33 | A44 A45 L12 A26 | A26 L12 A44 | L14 A50 A33 | A33 A50 A51 L14 | A52 A51 | A51 A50 A68 A70 A52 | L58 L59 A108 A107 A90 | A108 A107 | L12 A45 A46 A26 | A26 A46 L12 | A45 A44 | A44 A45 A62 A64 A46 | A51 A50 | A70 L20 A51 | A46 A45 | A45 L18 A62 | L20 A68 A51 | A130 L40 A111 | A111 L40 A129 A130 | A145 L47 A126 | A126 L47 A144 A145 | A45 A64 L18 | L40 A128 A111 | A111 A128 A129 L40 | A130 A129 | A129 A128 A146 A148 A130 | L47 A143 A126 | A126 A143 A144 L47 | A145 A144 | A144 A143 A145 | A88 L26 A69 | A69 L26 A87 A88 | A129 A128 | A144 A143 | A65 A66 L19 A48 | A48 L19 A65 | L26 A86 A69 | A69 A86 A87 L26 | A88 A87 | A87 A86 A104 A106 A88 | A148 L48 A129 | L19 A66 A67 A48 | A48 A67 L19 | A66 A65 | A65 A66 A83 A85 A67 | L48 A146 A129 | A87 A86 | A106 L32 A87 | A138 A139 A137 | A67 A66 | A66 L25 A83 | L32 A104 A87 | A138 A139 | A137 A138 | A150 A151 | A149 A150 | A66 A85 L25 | A139 A120 L45 A138 | A138 L45 A120 A137 | A151 A132 L49 A150 | A150 L49 A132 A149 | A139 L45 A120 | A120 L45 A137 | A151 L49 A132 | A132 L49 A149 | A101 A102 L31 A84 | A84 L31 A101 | A116 A117 L36 A99 | A99 L36 A116 | A136 L44 A117 | A117 A118 A116 A134 A136 | A117 L44 A134 | L31 A102 A103 A84 | A84 A103 L31 | A102 A101 | A101 A102 A119 A121 A103 | L36 A117 A118 A99 | A99 A118 L36 | A117 A116 | A117 A118 | A121 L37 A102 | A102 L37 A119 | A103 A102 | A115 L35 A96 | A96 A97 A95 A113 A115 | A96 L35 A113 | A96 A97 | A95 A96 | A97 A78 L29 A96 | A96 L29 A78 A95 | A97 L29 A78 | A78 L29 A95 | A79 L23 A60 | A60 A61 A59 A77 A79 | A60 L23 A77 | A60 A61 | A59 A60 | A61 A42 L17 A60 | A60 L17 A42 A59 | A61 L17 A42 | A42 L17 A59 picked at (-3.8204, -2.0508) picked at (-3.7207, -6.8265) picked at (-3.4125, -2.7175)
properties part number "Odbiornik_top"
